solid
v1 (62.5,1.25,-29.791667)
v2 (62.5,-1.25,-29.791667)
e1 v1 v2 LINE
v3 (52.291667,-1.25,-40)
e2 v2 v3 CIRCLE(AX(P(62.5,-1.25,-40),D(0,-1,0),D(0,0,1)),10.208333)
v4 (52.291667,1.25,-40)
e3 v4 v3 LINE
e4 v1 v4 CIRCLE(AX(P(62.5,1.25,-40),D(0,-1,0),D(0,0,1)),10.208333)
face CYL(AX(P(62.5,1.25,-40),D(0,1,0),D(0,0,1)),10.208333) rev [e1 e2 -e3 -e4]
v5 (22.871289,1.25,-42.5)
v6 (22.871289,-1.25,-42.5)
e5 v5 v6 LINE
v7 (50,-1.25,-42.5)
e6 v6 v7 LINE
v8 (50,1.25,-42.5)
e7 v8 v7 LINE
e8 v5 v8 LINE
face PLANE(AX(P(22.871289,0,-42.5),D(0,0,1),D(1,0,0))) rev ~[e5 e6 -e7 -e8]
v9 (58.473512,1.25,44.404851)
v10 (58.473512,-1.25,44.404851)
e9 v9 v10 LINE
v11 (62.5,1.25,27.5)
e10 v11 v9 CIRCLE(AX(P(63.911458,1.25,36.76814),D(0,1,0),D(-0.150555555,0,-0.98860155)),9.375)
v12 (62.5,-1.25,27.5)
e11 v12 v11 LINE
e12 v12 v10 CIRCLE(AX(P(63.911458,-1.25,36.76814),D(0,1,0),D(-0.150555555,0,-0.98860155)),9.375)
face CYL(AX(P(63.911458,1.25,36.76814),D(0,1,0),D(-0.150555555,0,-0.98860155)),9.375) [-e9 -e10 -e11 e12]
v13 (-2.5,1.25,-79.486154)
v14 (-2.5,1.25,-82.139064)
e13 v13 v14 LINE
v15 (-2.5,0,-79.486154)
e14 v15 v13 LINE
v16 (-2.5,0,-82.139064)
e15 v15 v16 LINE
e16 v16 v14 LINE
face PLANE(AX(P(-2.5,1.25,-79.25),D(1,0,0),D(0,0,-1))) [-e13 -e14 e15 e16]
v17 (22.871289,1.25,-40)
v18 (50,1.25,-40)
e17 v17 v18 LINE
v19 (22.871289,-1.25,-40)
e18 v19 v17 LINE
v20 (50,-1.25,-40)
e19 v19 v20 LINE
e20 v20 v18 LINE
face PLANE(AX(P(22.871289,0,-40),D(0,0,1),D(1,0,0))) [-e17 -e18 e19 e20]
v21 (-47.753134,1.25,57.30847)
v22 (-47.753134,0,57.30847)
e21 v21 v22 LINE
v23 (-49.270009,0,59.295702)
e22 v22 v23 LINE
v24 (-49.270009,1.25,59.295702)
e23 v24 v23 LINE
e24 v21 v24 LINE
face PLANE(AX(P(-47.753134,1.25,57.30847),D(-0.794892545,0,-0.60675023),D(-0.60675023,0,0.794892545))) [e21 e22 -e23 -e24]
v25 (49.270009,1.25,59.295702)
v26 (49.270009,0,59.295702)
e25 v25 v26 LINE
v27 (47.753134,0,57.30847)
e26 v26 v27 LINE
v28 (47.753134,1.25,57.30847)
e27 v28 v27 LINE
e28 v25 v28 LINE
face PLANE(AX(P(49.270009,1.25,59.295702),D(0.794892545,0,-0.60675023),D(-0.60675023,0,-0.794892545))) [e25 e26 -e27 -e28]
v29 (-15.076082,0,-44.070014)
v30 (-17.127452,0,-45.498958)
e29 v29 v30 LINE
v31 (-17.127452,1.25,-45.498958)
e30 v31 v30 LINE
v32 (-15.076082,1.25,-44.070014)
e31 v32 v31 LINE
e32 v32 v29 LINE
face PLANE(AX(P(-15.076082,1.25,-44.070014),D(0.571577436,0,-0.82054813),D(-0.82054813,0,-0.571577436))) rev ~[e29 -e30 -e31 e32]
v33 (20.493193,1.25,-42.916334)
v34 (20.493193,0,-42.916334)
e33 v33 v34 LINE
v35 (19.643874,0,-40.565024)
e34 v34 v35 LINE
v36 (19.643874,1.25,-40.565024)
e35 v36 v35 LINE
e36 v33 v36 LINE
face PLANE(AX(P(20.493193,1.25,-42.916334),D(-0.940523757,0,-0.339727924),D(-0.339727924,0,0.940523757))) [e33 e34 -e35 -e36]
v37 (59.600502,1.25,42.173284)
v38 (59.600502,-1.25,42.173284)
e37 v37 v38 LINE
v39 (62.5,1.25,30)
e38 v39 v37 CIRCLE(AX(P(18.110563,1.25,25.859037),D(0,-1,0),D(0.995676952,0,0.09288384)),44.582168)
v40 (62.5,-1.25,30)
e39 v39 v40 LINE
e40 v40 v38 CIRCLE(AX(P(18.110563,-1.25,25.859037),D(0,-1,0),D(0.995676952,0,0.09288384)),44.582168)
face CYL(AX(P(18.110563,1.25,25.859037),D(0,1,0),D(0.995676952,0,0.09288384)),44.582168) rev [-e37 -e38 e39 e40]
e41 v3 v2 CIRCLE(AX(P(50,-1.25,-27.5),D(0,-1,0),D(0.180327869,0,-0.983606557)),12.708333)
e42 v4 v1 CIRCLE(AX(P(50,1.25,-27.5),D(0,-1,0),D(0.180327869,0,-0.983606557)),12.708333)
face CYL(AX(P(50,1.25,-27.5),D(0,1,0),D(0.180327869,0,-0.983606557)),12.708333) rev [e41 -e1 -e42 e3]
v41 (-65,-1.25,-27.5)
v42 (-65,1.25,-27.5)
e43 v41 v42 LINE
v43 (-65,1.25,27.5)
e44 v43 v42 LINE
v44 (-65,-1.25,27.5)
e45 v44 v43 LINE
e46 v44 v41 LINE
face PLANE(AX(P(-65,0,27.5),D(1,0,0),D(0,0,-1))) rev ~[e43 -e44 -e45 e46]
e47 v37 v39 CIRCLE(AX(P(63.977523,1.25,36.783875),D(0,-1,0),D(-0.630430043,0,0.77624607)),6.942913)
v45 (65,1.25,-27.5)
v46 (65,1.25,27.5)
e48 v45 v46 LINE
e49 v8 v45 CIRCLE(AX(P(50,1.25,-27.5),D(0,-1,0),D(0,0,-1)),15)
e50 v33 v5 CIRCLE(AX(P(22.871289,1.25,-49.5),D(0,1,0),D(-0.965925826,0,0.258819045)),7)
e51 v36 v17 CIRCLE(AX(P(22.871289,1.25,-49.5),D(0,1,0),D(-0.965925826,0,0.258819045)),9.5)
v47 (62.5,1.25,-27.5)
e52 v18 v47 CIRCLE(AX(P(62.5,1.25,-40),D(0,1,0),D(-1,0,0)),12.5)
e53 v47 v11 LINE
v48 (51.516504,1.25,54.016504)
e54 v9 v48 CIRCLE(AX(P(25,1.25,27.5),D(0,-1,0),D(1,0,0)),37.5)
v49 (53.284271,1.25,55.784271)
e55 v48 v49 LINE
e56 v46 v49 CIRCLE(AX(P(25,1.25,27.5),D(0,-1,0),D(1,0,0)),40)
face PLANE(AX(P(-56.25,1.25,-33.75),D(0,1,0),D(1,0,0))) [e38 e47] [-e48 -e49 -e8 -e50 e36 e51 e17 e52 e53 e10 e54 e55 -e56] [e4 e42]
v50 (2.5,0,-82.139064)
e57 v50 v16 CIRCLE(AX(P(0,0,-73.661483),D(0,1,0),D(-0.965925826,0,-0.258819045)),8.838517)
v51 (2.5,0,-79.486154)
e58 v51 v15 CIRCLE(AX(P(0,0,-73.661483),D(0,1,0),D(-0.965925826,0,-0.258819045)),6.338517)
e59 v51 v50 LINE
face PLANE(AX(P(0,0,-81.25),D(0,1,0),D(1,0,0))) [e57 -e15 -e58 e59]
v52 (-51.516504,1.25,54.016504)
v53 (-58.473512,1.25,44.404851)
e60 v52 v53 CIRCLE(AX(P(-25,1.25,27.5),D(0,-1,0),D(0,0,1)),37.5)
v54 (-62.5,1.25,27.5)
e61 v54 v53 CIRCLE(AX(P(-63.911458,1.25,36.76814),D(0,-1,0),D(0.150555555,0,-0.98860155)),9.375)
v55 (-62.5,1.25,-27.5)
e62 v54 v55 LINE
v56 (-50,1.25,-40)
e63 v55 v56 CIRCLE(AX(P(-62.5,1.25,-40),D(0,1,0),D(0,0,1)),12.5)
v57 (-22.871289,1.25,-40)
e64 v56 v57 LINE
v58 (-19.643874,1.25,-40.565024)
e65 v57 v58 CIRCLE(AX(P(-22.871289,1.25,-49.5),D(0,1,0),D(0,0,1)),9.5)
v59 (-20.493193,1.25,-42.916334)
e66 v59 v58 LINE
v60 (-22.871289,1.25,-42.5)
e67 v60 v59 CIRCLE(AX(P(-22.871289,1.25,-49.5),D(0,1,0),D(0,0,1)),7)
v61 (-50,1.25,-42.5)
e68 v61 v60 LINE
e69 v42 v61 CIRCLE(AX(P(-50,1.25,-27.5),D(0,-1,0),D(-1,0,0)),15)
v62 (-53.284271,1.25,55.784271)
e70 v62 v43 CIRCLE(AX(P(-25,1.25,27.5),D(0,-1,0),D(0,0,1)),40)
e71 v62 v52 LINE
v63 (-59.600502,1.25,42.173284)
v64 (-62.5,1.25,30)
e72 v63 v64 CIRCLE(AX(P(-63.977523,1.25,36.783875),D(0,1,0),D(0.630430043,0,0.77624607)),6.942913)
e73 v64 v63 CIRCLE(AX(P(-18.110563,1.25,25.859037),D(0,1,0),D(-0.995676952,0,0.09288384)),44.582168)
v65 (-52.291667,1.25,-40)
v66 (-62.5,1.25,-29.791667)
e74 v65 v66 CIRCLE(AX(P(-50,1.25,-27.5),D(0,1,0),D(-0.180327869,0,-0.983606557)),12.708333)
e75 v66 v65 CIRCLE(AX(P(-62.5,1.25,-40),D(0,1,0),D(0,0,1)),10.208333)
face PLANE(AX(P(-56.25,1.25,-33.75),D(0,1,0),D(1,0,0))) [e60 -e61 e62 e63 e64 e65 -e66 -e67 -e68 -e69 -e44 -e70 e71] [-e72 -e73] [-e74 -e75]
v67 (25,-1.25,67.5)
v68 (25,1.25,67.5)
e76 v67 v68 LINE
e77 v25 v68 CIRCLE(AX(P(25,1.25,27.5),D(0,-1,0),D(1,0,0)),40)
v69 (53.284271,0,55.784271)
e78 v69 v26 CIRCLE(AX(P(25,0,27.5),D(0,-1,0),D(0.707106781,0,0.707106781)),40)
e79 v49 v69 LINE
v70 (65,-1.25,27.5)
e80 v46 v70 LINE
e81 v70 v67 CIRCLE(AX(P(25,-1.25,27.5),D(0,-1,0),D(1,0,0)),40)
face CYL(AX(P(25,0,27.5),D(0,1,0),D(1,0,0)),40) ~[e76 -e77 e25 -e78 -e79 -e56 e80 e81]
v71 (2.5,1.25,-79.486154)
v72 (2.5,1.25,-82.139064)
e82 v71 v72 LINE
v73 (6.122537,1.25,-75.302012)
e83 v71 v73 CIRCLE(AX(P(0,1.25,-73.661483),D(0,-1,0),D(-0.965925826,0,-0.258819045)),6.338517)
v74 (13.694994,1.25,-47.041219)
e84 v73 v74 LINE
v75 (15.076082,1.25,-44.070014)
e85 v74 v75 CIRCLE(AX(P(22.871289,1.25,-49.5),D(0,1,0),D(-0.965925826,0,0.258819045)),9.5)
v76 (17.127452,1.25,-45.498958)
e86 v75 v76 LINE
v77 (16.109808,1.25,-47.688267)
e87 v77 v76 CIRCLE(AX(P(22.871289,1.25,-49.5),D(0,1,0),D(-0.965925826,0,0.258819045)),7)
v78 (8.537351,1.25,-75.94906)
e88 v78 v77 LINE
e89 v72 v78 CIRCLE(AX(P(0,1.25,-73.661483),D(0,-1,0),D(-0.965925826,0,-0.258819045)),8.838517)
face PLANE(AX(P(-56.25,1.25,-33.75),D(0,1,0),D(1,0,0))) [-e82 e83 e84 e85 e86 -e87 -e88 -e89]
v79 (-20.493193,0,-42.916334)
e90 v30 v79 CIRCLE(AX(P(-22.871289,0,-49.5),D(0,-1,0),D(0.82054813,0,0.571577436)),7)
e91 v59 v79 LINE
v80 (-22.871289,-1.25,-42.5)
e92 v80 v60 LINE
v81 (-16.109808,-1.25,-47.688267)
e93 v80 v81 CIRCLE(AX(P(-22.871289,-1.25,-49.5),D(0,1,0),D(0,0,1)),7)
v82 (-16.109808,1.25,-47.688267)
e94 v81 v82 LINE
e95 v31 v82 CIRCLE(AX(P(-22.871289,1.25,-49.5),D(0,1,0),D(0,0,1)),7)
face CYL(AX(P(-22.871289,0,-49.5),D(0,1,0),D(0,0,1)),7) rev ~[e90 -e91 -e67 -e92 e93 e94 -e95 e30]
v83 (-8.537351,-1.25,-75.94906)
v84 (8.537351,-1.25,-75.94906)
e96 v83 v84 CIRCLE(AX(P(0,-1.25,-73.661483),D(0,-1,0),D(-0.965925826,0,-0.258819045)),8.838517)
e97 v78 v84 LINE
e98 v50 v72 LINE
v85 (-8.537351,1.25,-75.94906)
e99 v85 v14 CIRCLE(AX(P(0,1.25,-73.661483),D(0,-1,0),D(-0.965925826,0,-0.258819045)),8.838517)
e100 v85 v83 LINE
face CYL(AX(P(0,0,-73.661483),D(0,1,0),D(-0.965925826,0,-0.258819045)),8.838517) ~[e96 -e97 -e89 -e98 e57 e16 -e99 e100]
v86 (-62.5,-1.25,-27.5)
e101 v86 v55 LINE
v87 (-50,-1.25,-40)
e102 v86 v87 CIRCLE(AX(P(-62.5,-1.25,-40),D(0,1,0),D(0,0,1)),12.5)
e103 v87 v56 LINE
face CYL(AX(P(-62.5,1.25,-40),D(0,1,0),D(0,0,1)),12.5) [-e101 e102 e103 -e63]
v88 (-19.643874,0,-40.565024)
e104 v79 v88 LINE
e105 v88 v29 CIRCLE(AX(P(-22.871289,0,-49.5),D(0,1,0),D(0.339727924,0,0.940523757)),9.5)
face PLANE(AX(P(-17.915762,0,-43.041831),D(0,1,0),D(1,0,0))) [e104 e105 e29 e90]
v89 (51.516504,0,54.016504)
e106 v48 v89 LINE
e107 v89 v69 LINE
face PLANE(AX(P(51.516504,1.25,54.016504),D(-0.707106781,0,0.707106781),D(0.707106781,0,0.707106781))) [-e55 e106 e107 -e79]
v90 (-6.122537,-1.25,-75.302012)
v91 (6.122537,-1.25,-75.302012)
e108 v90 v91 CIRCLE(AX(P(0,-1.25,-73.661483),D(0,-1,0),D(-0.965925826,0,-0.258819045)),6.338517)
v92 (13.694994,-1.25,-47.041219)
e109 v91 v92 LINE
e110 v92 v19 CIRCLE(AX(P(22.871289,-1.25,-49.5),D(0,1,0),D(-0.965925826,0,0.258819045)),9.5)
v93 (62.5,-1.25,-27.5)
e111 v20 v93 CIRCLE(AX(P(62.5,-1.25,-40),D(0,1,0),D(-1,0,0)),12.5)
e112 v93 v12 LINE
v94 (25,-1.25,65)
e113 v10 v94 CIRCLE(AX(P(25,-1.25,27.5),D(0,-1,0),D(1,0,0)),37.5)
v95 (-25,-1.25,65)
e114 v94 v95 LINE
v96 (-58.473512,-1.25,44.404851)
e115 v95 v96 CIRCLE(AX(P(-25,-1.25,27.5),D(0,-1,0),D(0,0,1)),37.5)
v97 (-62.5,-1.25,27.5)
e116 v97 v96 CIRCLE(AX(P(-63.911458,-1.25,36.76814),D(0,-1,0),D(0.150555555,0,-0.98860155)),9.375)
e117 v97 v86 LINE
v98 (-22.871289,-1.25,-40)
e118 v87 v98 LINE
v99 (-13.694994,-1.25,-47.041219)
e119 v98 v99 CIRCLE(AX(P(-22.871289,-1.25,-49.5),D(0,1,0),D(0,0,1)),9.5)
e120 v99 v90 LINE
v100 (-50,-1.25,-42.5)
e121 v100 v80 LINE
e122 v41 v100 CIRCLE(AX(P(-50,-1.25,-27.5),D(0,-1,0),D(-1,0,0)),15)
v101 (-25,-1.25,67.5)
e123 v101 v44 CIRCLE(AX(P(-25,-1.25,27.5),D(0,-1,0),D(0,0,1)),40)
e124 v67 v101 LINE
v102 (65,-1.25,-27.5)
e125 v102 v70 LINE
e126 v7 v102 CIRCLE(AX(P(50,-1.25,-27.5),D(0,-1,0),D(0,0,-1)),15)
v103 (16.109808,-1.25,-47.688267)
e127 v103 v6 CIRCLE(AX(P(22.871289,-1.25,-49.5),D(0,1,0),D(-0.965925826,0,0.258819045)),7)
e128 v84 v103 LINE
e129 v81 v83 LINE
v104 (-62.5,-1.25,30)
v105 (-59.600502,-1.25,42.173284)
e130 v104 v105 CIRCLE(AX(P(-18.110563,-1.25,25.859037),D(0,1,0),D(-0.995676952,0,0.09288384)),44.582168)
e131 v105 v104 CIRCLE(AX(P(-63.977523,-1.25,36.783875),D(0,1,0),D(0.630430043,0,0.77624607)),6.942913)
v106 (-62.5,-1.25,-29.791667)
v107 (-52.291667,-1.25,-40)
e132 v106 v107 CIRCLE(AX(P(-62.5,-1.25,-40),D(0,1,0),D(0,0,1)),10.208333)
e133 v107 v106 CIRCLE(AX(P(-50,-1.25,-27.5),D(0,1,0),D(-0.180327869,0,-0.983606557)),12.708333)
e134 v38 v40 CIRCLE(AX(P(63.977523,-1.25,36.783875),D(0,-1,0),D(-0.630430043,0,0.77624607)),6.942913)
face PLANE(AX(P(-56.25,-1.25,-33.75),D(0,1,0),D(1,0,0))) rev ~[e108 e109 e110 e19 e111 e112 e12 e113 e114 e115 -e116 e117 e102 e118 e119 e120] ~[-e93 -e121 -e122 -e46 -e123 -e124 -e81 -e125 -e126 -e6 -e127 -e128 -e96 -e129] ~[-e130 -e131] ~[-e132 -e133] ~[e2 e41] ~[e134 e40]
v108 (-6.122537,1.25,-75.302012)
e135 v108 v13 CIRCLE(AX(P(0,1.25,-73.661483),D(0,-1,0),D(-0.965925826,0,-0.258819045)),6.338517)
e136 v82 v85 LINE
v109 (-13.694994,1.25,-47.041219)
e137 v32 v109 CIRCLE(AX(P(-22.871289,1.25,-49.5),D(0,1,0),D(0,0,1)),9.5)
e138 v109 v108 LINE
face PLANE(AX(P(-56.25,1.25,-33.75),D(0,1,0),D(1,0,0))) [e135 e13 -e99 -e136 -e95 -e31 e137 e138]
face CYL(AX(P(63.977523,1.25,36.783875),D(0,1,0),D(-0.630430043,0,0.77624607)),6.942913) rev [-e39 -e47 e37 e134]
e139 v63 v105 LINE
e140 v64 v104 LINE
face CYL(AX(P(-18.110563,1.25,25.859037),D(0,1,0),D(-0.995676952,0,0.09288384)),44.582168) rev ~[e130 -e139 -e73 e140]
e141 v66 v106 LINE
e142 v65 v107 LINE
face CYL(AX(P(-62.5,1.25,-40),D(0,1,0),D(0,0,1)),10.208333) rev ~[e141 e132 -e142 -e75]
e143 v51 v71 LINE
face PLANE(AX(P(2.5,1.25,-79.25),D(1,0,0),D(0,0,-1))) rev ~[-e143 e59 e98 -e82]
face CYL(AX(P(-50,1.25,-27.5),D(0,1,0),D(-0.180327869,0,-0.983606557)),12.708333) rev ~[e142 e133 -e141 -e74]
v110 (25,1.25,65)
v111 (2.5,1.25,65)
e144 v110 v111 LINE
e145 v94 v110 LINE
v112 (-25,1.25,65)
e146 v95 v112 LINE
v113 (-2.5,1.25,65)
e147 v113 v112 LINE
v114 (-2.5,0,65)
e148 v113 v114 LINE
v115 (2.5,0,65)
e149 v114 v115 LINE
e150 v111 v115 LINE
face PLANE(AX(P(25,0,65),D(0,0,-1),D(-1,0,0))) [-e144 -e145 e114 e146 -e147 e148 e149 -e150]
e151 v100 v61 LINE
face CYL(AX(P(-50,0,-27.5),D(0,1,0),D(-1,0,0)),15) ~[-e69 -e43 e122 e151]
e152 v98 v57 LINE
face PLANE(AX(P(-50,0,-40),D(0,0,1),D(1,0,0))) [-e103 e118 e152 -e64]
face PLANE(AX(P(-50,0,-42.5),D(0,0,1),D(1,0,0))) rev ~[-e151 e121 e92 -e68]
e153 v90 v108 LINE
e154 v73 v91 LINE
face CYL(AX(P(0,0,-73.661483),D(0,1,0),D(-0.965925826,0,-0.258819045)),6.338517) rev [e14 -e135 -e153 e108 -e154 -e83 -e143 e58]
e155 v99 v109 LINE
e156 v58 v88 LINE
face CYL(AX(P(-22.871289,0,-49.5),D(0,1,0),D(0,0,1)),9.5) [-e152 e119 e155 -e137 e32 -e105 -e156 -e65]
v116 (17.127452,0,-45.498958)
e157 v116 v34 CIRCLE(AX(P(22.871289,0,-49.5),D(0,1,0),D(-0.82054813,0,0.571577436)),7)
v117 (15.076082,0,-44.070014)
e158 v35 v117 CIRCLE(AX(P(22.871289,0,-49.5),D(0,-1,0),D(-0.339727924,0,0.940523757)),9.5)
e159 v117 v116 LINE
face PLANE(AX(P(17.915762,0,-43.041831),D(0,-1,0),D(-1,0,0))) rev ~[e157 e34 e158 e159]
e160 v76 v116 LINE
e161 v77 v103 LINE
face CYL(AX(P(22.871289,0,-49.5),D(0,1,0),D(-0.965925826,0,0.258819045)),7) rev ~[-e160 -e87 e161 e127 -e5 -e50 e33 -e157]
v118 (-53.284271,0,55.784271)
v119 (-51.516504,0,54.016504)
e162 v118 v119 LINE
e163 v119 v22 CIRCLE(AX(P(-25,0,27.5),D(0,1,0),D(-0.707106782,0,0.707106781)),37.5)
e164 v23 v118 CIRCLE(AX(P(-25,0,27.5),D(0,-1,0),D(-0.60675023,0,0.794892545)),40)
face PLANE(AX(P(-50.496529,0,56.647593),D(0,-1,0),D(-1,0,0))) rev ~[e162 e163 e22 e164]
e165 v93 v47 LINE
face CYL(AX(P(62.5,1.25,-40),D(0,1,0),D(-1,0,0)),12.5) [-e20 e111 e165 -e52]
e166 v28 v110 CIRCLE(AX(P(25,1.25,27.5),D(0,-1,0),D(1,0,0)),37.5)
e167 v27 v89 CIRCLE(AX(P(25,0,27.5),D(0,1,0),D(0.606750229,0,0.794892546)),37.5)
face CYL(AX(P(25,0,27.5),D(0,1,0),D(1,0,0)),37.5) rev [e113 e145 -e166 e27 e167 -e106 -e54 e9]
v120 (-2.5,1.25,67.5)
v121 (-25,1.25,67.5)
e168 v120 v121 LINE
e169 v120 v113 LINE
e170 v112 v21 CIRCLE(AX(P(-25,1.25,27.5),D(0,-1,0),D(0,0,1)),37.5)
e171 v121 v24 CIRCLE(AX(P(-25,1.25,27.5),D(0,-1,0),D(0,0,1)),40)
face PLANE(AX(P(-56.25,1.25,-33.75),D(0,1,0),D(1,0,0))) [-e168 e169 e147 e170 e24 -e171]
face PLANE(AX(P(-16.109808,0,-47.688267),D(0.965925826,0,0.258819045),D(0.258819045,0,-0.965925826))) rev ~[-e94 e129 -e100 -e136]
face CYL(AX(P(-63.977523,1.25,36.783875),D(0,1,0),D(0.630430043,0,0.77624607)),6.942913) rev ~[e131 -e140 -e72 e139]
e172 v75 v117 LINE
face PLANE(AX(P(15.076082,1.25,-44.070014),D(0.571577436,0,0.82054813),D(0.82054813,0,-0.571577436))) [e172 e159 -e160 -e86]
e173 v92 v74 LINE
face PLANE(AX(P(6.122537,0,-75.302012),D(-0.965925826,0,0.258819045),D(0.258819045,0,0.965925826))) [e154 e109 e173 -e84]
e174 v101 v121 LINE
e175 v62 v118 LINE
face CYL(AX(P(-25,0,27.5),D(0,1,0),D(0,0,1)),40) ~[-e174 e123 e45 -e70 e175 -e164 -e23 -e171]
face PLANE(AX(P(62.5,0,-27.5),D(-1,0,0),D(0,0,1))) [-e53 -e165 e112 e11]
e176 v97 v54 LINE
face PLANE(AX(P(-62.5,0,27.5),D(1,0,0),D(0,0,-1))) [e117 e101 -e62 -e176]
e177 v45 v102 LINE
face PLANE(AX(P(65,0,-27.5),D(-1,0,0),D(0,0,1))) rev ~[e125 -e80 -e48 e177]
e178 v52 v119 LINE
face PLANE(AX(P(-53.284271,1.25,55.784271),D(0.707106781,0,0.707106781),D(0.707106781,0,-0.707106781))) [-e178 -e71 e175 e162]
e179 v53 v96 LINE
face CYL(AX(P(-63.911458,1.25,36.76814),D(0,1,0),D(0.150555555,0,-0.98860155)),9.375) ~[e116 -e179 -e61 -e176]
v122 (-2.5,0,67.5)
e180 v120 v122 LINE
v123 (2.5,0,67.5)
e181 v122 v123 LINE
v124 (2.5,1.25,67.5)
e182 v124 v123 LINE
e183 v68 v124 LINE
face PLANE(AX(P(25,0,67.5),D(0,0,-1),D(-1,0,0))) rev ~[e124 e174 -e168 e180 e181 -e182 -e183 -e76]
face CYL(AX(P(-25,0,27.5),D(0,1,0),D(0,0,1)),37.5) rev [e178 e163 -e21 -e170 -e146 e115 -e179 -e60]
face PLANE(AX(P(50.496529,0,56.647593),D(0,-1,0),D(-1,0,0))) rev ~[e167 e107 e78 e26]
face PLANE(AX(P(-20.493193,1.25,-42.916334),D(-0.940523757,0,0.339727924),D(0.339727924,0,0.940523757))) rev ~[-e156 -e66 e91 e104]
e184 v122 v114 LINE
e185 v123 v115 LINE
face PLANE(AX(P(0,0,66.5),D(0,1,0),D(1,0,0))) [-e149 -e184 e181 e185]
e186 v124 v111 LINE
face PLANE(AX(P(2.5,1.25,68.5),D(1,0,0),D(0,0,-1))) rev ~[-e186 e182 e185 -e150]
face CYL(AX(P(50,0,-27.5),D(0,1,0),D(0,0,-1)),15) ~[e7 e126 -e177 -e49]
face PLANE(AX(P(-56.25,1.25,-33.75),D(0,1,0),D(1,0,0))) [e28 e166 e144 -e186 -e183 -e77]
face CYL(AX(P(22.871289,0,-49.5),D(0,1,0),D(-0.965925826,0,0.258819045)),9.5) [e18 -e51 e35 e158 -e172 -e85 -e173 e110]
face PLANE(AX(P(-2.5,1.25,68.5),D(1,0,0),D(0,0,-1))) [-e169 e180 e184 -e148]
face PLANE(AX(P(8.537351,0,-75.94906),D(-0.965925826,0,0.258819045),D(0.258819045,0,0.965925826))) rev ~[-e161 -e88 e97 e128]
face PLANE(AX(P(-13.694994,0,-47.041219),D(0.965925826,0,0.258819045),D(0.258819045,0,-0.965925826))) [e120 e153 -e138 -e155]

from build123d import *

# Parameters (mm, degrees)
BOSS_EXTRUDE1_DEPTH = 1.25
BOSS_EXTRUDE5_DEPTH = 2.5
SKETCH6_W           = 5
SKETCH6_H           = 4
CUT_EXTRUDE1_DEPTH  = 1.25
CUT_EXTRUDE2_DEPTH  = 2.5


with BuildPart() as part:
    # Sketch2 → Boss-Extrude1 (new body, symmetric)
    with BuildSketch(Plane(origin=(0, 0, 0), x_dir=(1, 0, 0), z_dir=(0, 1, 0))):
        with BuildLine():
            Line((-16.109808132, 47.688266684), (-8.537351427, 75.949059844))
            ThreePointArc((-8.537351427, 75.949059844), (0, 82.5), (8.537351427, 75.949059844))
            Line((8.537351427, 75.949059844), (16.109808132, 47.688266684))
            ThreePointArc((16.109808132, 47.688266684), (18.609958913, 43.946526618), (22.871288916, 42.5))
            Line((22.871288916, 42.5), (50, 42.5))
            ThreePointArc((50, 42.5), (60.606601718, 38.106601718), (65, 27.5))
            Line((65, 27.5), (65, -27.5))
            ThreePointArc((65, -27.5), (53.284271247, -55.784271247), (25, -67.5))
            Line((25, -67.5), (-25, -67.5))
            ThreePointArc((-25, -67.5), (-53.284271247, -55.784271247), (-65, -27.5))
            Line((-65, -27.5), (-65, 27.5))
            ThreePointArc((-65, 27.5), (-60.606601718, 38.106601718), (-50, 42.5))
            Line((-50, 42.5), (-22.871288916, 42.5))
            ThreePointArc((-22.871288916, 42.5), (-18.609958913, 43.946526618), (-16.109808132, 47.688266684))
        make_face()
        with BuildLine():
            Line((6.122536861, 75.302012231), (13.694993566, 47.041219072))
            ThreePointArc((13.694993566, 47.041219072), (17.08805534, 41.963143267), (22.871288916, 40))
            Line((22.871288916, 40), (50, 40))
            ThreePointArc((50, 40), (58.838834765, 36.338834765), (62.5, 27.5))
            Line((62.5, 27.5), (62.5, -27.5))
            ThreePointArc((62.5, -27.5), (51.516504294, -54.016504294), (25, -65))
            Line((25, -65), (-25, -65))
            ThreePointArc((-25, -65), (-51.516504294, -54.016504294), (-62.5, -27.5))
            Line((-62.5, -27.5), (-62.5, 27.5))
            ThreePointArc((-62.5, 27.5), (-58.838834765, 36.338834765), (-50, 40))
            Line((-50, 40), (-22.871288916, 40))
            ThreePointArc((-22.871288916, 40), (-17.08805534, 41.963143267), (-13.694993566, 47.041219072))
            Line((-13.694993566, 47.041219072), (-6.122536861, 75.302012231))
            ThreePointArc((-6.122536861, 75.302012231), (0, 80), (6.122536861, 75.302012231))
        make_face(mode=Mode.SUBTRACT)
    extrude(amount=BOSS_EXTRUDE1_DEPTH, both=True)

    # Sketch5 → Boss-Extrude5 (add)
    with BuildSketch(Plane(origin=(0, 1.25, 0), x_dir=(1, 0, 0), z_dir=(0, 1, 0))):
        with BuildLine():
            ThreePointArc((-62.5, 27.5), (-53.661165235, 31.161165235), (-50, 40))
            ThreePointArc((-50, 40), (-58.838834765, 36.338834765), (-62.5, 27.5))
        make_face()
        with BuildLine():
            ThreePointArc((50, 40), (53.661165235, 31.161165235), (62.5, 27.5))
            ThreePointArc((62.5, 27.5), (58.838834765, 36.338834765), (50, 40))
        make_face()
        with BuildLine():
            ThreePointArc((-62.5, -27.5), (-54.791585286, -34.595919329), (-58.473512014, -44.404851181))
            ThreePointArc((-58.473512014, -44.404851181), (-61.479492188, -36.188880811), (-62.5, -27.5))
        make_face()
        with BuildLine():
            ThreePointArc((62.5, -27.5), (54.791585286, -34.595919329), (58.473512014, -44.404851181))
            ThreePointArc((58.473512014, -44.404851181), (61.479492187, -36.188880811), (62.5, -27.5))
        make_face()
    extrude(amount=-BOSS_EXTRUDE5_DEPTH)

    # Sketch6 → Cut-Extrude1 (cut)
    with BuildSketch(Plane(origin=(0, 1.25, 0), x_dir=(1, 0, 0), z_dir=(0, 1, 0))):
        with Locations((0, 81.25)):
            Rectangle(SKETCH6_W, SKETCH6_H)
        with BuildLine():
            Line((-20.493193447, 42.916333701), (-19.643873637, 40.565024308))
            ThreePointArc((-19.643873637, 40.565024308), (-17.08805534, 41.963143267), (-15.076081678, 44.070014354))
            Line((-15.076081678, 44.070014354), (-17.127452004, 45.498957945))
            ThreePointArc((-17.127452004, 45.498957945), (-18.609958913, 43.946526618), (-20.493193447, 42.916333701))
        make_face()
        with BuildLine():
            Line((20.493193447, 42.916333701), (19.643873637, 40.565024308))
            ThreePointArc((19.643873637, 40.565024308), (17.08805534, 41.963143267), (15.076081678, 44.070014354))
            Line((15.076081678, 44.070014354), (17.127452004, 45.498957945))
            ThreePointArc((17.127452004, 45.498957945), (18.609958913, 43.946526618), (20.493193447, 42.916333701))
        make_face()
        with BuildLine():
            Line((-53.284271247, -55.784271247), (-51.516504294, -54.016504294))
            ThreePointArc((-51.516504294, -54.016504294), (-49.689746158, -55.725280064), (-47.753133619, -57.308470449))
            Line((-47.753133619, -57.308470449), (-49.270009194, -59.295701812))
            ThreePointArc((-49.270009194, -59.295701812), (-51.335729235, -57.606965401), (-53.284271247, -55.784271247))
        make_face()
        with BuildLine():
            Line((49.270009194, -59.295701812), (47.753133619, -57.308470449))
            ThreePointArc((47.753133619, -57.308470449), (49.689746158, -55.725280064), (51.516504294, -54.016504294))
            Line((51.516504294, -54.016504294), (53.284271247, -55.784271247))
            ThreePointArc((53.284271247, -55.784271247), (51.335729235, -57.606965401), (49.270009194, -59.295701812))
        make_face()
        with Locations((0, -66.5)):
            Rectangle(SKETCH6_W, SKETCH6_H)
    extrude(amount=-CUT_EXTRUDE1_DEPTH, mode=Mode.SUBTRACT)

    # Sketch7 → Cut-Extrude2 (cut)
    with BuildSketch(Plane(origin=(0, 1.25, 0), x_dir=(1, 0, 0), z_dir=(0, 1, 0))):
        with BuildLine():
            ThreePointArc((-62.5, 29.791666667), (-55.281618275, 32.781618275), (-52.291666667, 40))
            ThreePointArc((-52.291666667, 40), (-58.986148678, 36.486148678), (-62.5, 29.791666667))
        make_face()
        with BuildLine():
            ThreePointArc((52.291666667, 40), (58.986148678, 36.486148678), (62.5, 29.791666667))
            ThreePointArc((62.5, 29.791666667), (55.281618275, 32.781618275), (52.291666667, 40))
        make_face()
        with BuildLine():
            ThreePointArc((-59.600502093, -42.173283714), (-57.223551432, -35.175178049), (-62.5, -30))
            ThreePointArc((-62.5, -30), (-61.479492188, -36.188880811), (-59.600502093, -42.173283714))
        make_face()
        with BuildLine():
            ThreePointArc((62.5, -30), (61.479492187, -36.188880811), (59.600502093, -42.173283714))
            ThreePointArc((59.600502093, -42.173283714), (57.223551432, -35.175178049), (62.5, -30))
        make_face()
    extrude(amount=-CUT_EXTRUDE2_DEPTH, mode=Mode.SUBTRACT)


solid = part.part
